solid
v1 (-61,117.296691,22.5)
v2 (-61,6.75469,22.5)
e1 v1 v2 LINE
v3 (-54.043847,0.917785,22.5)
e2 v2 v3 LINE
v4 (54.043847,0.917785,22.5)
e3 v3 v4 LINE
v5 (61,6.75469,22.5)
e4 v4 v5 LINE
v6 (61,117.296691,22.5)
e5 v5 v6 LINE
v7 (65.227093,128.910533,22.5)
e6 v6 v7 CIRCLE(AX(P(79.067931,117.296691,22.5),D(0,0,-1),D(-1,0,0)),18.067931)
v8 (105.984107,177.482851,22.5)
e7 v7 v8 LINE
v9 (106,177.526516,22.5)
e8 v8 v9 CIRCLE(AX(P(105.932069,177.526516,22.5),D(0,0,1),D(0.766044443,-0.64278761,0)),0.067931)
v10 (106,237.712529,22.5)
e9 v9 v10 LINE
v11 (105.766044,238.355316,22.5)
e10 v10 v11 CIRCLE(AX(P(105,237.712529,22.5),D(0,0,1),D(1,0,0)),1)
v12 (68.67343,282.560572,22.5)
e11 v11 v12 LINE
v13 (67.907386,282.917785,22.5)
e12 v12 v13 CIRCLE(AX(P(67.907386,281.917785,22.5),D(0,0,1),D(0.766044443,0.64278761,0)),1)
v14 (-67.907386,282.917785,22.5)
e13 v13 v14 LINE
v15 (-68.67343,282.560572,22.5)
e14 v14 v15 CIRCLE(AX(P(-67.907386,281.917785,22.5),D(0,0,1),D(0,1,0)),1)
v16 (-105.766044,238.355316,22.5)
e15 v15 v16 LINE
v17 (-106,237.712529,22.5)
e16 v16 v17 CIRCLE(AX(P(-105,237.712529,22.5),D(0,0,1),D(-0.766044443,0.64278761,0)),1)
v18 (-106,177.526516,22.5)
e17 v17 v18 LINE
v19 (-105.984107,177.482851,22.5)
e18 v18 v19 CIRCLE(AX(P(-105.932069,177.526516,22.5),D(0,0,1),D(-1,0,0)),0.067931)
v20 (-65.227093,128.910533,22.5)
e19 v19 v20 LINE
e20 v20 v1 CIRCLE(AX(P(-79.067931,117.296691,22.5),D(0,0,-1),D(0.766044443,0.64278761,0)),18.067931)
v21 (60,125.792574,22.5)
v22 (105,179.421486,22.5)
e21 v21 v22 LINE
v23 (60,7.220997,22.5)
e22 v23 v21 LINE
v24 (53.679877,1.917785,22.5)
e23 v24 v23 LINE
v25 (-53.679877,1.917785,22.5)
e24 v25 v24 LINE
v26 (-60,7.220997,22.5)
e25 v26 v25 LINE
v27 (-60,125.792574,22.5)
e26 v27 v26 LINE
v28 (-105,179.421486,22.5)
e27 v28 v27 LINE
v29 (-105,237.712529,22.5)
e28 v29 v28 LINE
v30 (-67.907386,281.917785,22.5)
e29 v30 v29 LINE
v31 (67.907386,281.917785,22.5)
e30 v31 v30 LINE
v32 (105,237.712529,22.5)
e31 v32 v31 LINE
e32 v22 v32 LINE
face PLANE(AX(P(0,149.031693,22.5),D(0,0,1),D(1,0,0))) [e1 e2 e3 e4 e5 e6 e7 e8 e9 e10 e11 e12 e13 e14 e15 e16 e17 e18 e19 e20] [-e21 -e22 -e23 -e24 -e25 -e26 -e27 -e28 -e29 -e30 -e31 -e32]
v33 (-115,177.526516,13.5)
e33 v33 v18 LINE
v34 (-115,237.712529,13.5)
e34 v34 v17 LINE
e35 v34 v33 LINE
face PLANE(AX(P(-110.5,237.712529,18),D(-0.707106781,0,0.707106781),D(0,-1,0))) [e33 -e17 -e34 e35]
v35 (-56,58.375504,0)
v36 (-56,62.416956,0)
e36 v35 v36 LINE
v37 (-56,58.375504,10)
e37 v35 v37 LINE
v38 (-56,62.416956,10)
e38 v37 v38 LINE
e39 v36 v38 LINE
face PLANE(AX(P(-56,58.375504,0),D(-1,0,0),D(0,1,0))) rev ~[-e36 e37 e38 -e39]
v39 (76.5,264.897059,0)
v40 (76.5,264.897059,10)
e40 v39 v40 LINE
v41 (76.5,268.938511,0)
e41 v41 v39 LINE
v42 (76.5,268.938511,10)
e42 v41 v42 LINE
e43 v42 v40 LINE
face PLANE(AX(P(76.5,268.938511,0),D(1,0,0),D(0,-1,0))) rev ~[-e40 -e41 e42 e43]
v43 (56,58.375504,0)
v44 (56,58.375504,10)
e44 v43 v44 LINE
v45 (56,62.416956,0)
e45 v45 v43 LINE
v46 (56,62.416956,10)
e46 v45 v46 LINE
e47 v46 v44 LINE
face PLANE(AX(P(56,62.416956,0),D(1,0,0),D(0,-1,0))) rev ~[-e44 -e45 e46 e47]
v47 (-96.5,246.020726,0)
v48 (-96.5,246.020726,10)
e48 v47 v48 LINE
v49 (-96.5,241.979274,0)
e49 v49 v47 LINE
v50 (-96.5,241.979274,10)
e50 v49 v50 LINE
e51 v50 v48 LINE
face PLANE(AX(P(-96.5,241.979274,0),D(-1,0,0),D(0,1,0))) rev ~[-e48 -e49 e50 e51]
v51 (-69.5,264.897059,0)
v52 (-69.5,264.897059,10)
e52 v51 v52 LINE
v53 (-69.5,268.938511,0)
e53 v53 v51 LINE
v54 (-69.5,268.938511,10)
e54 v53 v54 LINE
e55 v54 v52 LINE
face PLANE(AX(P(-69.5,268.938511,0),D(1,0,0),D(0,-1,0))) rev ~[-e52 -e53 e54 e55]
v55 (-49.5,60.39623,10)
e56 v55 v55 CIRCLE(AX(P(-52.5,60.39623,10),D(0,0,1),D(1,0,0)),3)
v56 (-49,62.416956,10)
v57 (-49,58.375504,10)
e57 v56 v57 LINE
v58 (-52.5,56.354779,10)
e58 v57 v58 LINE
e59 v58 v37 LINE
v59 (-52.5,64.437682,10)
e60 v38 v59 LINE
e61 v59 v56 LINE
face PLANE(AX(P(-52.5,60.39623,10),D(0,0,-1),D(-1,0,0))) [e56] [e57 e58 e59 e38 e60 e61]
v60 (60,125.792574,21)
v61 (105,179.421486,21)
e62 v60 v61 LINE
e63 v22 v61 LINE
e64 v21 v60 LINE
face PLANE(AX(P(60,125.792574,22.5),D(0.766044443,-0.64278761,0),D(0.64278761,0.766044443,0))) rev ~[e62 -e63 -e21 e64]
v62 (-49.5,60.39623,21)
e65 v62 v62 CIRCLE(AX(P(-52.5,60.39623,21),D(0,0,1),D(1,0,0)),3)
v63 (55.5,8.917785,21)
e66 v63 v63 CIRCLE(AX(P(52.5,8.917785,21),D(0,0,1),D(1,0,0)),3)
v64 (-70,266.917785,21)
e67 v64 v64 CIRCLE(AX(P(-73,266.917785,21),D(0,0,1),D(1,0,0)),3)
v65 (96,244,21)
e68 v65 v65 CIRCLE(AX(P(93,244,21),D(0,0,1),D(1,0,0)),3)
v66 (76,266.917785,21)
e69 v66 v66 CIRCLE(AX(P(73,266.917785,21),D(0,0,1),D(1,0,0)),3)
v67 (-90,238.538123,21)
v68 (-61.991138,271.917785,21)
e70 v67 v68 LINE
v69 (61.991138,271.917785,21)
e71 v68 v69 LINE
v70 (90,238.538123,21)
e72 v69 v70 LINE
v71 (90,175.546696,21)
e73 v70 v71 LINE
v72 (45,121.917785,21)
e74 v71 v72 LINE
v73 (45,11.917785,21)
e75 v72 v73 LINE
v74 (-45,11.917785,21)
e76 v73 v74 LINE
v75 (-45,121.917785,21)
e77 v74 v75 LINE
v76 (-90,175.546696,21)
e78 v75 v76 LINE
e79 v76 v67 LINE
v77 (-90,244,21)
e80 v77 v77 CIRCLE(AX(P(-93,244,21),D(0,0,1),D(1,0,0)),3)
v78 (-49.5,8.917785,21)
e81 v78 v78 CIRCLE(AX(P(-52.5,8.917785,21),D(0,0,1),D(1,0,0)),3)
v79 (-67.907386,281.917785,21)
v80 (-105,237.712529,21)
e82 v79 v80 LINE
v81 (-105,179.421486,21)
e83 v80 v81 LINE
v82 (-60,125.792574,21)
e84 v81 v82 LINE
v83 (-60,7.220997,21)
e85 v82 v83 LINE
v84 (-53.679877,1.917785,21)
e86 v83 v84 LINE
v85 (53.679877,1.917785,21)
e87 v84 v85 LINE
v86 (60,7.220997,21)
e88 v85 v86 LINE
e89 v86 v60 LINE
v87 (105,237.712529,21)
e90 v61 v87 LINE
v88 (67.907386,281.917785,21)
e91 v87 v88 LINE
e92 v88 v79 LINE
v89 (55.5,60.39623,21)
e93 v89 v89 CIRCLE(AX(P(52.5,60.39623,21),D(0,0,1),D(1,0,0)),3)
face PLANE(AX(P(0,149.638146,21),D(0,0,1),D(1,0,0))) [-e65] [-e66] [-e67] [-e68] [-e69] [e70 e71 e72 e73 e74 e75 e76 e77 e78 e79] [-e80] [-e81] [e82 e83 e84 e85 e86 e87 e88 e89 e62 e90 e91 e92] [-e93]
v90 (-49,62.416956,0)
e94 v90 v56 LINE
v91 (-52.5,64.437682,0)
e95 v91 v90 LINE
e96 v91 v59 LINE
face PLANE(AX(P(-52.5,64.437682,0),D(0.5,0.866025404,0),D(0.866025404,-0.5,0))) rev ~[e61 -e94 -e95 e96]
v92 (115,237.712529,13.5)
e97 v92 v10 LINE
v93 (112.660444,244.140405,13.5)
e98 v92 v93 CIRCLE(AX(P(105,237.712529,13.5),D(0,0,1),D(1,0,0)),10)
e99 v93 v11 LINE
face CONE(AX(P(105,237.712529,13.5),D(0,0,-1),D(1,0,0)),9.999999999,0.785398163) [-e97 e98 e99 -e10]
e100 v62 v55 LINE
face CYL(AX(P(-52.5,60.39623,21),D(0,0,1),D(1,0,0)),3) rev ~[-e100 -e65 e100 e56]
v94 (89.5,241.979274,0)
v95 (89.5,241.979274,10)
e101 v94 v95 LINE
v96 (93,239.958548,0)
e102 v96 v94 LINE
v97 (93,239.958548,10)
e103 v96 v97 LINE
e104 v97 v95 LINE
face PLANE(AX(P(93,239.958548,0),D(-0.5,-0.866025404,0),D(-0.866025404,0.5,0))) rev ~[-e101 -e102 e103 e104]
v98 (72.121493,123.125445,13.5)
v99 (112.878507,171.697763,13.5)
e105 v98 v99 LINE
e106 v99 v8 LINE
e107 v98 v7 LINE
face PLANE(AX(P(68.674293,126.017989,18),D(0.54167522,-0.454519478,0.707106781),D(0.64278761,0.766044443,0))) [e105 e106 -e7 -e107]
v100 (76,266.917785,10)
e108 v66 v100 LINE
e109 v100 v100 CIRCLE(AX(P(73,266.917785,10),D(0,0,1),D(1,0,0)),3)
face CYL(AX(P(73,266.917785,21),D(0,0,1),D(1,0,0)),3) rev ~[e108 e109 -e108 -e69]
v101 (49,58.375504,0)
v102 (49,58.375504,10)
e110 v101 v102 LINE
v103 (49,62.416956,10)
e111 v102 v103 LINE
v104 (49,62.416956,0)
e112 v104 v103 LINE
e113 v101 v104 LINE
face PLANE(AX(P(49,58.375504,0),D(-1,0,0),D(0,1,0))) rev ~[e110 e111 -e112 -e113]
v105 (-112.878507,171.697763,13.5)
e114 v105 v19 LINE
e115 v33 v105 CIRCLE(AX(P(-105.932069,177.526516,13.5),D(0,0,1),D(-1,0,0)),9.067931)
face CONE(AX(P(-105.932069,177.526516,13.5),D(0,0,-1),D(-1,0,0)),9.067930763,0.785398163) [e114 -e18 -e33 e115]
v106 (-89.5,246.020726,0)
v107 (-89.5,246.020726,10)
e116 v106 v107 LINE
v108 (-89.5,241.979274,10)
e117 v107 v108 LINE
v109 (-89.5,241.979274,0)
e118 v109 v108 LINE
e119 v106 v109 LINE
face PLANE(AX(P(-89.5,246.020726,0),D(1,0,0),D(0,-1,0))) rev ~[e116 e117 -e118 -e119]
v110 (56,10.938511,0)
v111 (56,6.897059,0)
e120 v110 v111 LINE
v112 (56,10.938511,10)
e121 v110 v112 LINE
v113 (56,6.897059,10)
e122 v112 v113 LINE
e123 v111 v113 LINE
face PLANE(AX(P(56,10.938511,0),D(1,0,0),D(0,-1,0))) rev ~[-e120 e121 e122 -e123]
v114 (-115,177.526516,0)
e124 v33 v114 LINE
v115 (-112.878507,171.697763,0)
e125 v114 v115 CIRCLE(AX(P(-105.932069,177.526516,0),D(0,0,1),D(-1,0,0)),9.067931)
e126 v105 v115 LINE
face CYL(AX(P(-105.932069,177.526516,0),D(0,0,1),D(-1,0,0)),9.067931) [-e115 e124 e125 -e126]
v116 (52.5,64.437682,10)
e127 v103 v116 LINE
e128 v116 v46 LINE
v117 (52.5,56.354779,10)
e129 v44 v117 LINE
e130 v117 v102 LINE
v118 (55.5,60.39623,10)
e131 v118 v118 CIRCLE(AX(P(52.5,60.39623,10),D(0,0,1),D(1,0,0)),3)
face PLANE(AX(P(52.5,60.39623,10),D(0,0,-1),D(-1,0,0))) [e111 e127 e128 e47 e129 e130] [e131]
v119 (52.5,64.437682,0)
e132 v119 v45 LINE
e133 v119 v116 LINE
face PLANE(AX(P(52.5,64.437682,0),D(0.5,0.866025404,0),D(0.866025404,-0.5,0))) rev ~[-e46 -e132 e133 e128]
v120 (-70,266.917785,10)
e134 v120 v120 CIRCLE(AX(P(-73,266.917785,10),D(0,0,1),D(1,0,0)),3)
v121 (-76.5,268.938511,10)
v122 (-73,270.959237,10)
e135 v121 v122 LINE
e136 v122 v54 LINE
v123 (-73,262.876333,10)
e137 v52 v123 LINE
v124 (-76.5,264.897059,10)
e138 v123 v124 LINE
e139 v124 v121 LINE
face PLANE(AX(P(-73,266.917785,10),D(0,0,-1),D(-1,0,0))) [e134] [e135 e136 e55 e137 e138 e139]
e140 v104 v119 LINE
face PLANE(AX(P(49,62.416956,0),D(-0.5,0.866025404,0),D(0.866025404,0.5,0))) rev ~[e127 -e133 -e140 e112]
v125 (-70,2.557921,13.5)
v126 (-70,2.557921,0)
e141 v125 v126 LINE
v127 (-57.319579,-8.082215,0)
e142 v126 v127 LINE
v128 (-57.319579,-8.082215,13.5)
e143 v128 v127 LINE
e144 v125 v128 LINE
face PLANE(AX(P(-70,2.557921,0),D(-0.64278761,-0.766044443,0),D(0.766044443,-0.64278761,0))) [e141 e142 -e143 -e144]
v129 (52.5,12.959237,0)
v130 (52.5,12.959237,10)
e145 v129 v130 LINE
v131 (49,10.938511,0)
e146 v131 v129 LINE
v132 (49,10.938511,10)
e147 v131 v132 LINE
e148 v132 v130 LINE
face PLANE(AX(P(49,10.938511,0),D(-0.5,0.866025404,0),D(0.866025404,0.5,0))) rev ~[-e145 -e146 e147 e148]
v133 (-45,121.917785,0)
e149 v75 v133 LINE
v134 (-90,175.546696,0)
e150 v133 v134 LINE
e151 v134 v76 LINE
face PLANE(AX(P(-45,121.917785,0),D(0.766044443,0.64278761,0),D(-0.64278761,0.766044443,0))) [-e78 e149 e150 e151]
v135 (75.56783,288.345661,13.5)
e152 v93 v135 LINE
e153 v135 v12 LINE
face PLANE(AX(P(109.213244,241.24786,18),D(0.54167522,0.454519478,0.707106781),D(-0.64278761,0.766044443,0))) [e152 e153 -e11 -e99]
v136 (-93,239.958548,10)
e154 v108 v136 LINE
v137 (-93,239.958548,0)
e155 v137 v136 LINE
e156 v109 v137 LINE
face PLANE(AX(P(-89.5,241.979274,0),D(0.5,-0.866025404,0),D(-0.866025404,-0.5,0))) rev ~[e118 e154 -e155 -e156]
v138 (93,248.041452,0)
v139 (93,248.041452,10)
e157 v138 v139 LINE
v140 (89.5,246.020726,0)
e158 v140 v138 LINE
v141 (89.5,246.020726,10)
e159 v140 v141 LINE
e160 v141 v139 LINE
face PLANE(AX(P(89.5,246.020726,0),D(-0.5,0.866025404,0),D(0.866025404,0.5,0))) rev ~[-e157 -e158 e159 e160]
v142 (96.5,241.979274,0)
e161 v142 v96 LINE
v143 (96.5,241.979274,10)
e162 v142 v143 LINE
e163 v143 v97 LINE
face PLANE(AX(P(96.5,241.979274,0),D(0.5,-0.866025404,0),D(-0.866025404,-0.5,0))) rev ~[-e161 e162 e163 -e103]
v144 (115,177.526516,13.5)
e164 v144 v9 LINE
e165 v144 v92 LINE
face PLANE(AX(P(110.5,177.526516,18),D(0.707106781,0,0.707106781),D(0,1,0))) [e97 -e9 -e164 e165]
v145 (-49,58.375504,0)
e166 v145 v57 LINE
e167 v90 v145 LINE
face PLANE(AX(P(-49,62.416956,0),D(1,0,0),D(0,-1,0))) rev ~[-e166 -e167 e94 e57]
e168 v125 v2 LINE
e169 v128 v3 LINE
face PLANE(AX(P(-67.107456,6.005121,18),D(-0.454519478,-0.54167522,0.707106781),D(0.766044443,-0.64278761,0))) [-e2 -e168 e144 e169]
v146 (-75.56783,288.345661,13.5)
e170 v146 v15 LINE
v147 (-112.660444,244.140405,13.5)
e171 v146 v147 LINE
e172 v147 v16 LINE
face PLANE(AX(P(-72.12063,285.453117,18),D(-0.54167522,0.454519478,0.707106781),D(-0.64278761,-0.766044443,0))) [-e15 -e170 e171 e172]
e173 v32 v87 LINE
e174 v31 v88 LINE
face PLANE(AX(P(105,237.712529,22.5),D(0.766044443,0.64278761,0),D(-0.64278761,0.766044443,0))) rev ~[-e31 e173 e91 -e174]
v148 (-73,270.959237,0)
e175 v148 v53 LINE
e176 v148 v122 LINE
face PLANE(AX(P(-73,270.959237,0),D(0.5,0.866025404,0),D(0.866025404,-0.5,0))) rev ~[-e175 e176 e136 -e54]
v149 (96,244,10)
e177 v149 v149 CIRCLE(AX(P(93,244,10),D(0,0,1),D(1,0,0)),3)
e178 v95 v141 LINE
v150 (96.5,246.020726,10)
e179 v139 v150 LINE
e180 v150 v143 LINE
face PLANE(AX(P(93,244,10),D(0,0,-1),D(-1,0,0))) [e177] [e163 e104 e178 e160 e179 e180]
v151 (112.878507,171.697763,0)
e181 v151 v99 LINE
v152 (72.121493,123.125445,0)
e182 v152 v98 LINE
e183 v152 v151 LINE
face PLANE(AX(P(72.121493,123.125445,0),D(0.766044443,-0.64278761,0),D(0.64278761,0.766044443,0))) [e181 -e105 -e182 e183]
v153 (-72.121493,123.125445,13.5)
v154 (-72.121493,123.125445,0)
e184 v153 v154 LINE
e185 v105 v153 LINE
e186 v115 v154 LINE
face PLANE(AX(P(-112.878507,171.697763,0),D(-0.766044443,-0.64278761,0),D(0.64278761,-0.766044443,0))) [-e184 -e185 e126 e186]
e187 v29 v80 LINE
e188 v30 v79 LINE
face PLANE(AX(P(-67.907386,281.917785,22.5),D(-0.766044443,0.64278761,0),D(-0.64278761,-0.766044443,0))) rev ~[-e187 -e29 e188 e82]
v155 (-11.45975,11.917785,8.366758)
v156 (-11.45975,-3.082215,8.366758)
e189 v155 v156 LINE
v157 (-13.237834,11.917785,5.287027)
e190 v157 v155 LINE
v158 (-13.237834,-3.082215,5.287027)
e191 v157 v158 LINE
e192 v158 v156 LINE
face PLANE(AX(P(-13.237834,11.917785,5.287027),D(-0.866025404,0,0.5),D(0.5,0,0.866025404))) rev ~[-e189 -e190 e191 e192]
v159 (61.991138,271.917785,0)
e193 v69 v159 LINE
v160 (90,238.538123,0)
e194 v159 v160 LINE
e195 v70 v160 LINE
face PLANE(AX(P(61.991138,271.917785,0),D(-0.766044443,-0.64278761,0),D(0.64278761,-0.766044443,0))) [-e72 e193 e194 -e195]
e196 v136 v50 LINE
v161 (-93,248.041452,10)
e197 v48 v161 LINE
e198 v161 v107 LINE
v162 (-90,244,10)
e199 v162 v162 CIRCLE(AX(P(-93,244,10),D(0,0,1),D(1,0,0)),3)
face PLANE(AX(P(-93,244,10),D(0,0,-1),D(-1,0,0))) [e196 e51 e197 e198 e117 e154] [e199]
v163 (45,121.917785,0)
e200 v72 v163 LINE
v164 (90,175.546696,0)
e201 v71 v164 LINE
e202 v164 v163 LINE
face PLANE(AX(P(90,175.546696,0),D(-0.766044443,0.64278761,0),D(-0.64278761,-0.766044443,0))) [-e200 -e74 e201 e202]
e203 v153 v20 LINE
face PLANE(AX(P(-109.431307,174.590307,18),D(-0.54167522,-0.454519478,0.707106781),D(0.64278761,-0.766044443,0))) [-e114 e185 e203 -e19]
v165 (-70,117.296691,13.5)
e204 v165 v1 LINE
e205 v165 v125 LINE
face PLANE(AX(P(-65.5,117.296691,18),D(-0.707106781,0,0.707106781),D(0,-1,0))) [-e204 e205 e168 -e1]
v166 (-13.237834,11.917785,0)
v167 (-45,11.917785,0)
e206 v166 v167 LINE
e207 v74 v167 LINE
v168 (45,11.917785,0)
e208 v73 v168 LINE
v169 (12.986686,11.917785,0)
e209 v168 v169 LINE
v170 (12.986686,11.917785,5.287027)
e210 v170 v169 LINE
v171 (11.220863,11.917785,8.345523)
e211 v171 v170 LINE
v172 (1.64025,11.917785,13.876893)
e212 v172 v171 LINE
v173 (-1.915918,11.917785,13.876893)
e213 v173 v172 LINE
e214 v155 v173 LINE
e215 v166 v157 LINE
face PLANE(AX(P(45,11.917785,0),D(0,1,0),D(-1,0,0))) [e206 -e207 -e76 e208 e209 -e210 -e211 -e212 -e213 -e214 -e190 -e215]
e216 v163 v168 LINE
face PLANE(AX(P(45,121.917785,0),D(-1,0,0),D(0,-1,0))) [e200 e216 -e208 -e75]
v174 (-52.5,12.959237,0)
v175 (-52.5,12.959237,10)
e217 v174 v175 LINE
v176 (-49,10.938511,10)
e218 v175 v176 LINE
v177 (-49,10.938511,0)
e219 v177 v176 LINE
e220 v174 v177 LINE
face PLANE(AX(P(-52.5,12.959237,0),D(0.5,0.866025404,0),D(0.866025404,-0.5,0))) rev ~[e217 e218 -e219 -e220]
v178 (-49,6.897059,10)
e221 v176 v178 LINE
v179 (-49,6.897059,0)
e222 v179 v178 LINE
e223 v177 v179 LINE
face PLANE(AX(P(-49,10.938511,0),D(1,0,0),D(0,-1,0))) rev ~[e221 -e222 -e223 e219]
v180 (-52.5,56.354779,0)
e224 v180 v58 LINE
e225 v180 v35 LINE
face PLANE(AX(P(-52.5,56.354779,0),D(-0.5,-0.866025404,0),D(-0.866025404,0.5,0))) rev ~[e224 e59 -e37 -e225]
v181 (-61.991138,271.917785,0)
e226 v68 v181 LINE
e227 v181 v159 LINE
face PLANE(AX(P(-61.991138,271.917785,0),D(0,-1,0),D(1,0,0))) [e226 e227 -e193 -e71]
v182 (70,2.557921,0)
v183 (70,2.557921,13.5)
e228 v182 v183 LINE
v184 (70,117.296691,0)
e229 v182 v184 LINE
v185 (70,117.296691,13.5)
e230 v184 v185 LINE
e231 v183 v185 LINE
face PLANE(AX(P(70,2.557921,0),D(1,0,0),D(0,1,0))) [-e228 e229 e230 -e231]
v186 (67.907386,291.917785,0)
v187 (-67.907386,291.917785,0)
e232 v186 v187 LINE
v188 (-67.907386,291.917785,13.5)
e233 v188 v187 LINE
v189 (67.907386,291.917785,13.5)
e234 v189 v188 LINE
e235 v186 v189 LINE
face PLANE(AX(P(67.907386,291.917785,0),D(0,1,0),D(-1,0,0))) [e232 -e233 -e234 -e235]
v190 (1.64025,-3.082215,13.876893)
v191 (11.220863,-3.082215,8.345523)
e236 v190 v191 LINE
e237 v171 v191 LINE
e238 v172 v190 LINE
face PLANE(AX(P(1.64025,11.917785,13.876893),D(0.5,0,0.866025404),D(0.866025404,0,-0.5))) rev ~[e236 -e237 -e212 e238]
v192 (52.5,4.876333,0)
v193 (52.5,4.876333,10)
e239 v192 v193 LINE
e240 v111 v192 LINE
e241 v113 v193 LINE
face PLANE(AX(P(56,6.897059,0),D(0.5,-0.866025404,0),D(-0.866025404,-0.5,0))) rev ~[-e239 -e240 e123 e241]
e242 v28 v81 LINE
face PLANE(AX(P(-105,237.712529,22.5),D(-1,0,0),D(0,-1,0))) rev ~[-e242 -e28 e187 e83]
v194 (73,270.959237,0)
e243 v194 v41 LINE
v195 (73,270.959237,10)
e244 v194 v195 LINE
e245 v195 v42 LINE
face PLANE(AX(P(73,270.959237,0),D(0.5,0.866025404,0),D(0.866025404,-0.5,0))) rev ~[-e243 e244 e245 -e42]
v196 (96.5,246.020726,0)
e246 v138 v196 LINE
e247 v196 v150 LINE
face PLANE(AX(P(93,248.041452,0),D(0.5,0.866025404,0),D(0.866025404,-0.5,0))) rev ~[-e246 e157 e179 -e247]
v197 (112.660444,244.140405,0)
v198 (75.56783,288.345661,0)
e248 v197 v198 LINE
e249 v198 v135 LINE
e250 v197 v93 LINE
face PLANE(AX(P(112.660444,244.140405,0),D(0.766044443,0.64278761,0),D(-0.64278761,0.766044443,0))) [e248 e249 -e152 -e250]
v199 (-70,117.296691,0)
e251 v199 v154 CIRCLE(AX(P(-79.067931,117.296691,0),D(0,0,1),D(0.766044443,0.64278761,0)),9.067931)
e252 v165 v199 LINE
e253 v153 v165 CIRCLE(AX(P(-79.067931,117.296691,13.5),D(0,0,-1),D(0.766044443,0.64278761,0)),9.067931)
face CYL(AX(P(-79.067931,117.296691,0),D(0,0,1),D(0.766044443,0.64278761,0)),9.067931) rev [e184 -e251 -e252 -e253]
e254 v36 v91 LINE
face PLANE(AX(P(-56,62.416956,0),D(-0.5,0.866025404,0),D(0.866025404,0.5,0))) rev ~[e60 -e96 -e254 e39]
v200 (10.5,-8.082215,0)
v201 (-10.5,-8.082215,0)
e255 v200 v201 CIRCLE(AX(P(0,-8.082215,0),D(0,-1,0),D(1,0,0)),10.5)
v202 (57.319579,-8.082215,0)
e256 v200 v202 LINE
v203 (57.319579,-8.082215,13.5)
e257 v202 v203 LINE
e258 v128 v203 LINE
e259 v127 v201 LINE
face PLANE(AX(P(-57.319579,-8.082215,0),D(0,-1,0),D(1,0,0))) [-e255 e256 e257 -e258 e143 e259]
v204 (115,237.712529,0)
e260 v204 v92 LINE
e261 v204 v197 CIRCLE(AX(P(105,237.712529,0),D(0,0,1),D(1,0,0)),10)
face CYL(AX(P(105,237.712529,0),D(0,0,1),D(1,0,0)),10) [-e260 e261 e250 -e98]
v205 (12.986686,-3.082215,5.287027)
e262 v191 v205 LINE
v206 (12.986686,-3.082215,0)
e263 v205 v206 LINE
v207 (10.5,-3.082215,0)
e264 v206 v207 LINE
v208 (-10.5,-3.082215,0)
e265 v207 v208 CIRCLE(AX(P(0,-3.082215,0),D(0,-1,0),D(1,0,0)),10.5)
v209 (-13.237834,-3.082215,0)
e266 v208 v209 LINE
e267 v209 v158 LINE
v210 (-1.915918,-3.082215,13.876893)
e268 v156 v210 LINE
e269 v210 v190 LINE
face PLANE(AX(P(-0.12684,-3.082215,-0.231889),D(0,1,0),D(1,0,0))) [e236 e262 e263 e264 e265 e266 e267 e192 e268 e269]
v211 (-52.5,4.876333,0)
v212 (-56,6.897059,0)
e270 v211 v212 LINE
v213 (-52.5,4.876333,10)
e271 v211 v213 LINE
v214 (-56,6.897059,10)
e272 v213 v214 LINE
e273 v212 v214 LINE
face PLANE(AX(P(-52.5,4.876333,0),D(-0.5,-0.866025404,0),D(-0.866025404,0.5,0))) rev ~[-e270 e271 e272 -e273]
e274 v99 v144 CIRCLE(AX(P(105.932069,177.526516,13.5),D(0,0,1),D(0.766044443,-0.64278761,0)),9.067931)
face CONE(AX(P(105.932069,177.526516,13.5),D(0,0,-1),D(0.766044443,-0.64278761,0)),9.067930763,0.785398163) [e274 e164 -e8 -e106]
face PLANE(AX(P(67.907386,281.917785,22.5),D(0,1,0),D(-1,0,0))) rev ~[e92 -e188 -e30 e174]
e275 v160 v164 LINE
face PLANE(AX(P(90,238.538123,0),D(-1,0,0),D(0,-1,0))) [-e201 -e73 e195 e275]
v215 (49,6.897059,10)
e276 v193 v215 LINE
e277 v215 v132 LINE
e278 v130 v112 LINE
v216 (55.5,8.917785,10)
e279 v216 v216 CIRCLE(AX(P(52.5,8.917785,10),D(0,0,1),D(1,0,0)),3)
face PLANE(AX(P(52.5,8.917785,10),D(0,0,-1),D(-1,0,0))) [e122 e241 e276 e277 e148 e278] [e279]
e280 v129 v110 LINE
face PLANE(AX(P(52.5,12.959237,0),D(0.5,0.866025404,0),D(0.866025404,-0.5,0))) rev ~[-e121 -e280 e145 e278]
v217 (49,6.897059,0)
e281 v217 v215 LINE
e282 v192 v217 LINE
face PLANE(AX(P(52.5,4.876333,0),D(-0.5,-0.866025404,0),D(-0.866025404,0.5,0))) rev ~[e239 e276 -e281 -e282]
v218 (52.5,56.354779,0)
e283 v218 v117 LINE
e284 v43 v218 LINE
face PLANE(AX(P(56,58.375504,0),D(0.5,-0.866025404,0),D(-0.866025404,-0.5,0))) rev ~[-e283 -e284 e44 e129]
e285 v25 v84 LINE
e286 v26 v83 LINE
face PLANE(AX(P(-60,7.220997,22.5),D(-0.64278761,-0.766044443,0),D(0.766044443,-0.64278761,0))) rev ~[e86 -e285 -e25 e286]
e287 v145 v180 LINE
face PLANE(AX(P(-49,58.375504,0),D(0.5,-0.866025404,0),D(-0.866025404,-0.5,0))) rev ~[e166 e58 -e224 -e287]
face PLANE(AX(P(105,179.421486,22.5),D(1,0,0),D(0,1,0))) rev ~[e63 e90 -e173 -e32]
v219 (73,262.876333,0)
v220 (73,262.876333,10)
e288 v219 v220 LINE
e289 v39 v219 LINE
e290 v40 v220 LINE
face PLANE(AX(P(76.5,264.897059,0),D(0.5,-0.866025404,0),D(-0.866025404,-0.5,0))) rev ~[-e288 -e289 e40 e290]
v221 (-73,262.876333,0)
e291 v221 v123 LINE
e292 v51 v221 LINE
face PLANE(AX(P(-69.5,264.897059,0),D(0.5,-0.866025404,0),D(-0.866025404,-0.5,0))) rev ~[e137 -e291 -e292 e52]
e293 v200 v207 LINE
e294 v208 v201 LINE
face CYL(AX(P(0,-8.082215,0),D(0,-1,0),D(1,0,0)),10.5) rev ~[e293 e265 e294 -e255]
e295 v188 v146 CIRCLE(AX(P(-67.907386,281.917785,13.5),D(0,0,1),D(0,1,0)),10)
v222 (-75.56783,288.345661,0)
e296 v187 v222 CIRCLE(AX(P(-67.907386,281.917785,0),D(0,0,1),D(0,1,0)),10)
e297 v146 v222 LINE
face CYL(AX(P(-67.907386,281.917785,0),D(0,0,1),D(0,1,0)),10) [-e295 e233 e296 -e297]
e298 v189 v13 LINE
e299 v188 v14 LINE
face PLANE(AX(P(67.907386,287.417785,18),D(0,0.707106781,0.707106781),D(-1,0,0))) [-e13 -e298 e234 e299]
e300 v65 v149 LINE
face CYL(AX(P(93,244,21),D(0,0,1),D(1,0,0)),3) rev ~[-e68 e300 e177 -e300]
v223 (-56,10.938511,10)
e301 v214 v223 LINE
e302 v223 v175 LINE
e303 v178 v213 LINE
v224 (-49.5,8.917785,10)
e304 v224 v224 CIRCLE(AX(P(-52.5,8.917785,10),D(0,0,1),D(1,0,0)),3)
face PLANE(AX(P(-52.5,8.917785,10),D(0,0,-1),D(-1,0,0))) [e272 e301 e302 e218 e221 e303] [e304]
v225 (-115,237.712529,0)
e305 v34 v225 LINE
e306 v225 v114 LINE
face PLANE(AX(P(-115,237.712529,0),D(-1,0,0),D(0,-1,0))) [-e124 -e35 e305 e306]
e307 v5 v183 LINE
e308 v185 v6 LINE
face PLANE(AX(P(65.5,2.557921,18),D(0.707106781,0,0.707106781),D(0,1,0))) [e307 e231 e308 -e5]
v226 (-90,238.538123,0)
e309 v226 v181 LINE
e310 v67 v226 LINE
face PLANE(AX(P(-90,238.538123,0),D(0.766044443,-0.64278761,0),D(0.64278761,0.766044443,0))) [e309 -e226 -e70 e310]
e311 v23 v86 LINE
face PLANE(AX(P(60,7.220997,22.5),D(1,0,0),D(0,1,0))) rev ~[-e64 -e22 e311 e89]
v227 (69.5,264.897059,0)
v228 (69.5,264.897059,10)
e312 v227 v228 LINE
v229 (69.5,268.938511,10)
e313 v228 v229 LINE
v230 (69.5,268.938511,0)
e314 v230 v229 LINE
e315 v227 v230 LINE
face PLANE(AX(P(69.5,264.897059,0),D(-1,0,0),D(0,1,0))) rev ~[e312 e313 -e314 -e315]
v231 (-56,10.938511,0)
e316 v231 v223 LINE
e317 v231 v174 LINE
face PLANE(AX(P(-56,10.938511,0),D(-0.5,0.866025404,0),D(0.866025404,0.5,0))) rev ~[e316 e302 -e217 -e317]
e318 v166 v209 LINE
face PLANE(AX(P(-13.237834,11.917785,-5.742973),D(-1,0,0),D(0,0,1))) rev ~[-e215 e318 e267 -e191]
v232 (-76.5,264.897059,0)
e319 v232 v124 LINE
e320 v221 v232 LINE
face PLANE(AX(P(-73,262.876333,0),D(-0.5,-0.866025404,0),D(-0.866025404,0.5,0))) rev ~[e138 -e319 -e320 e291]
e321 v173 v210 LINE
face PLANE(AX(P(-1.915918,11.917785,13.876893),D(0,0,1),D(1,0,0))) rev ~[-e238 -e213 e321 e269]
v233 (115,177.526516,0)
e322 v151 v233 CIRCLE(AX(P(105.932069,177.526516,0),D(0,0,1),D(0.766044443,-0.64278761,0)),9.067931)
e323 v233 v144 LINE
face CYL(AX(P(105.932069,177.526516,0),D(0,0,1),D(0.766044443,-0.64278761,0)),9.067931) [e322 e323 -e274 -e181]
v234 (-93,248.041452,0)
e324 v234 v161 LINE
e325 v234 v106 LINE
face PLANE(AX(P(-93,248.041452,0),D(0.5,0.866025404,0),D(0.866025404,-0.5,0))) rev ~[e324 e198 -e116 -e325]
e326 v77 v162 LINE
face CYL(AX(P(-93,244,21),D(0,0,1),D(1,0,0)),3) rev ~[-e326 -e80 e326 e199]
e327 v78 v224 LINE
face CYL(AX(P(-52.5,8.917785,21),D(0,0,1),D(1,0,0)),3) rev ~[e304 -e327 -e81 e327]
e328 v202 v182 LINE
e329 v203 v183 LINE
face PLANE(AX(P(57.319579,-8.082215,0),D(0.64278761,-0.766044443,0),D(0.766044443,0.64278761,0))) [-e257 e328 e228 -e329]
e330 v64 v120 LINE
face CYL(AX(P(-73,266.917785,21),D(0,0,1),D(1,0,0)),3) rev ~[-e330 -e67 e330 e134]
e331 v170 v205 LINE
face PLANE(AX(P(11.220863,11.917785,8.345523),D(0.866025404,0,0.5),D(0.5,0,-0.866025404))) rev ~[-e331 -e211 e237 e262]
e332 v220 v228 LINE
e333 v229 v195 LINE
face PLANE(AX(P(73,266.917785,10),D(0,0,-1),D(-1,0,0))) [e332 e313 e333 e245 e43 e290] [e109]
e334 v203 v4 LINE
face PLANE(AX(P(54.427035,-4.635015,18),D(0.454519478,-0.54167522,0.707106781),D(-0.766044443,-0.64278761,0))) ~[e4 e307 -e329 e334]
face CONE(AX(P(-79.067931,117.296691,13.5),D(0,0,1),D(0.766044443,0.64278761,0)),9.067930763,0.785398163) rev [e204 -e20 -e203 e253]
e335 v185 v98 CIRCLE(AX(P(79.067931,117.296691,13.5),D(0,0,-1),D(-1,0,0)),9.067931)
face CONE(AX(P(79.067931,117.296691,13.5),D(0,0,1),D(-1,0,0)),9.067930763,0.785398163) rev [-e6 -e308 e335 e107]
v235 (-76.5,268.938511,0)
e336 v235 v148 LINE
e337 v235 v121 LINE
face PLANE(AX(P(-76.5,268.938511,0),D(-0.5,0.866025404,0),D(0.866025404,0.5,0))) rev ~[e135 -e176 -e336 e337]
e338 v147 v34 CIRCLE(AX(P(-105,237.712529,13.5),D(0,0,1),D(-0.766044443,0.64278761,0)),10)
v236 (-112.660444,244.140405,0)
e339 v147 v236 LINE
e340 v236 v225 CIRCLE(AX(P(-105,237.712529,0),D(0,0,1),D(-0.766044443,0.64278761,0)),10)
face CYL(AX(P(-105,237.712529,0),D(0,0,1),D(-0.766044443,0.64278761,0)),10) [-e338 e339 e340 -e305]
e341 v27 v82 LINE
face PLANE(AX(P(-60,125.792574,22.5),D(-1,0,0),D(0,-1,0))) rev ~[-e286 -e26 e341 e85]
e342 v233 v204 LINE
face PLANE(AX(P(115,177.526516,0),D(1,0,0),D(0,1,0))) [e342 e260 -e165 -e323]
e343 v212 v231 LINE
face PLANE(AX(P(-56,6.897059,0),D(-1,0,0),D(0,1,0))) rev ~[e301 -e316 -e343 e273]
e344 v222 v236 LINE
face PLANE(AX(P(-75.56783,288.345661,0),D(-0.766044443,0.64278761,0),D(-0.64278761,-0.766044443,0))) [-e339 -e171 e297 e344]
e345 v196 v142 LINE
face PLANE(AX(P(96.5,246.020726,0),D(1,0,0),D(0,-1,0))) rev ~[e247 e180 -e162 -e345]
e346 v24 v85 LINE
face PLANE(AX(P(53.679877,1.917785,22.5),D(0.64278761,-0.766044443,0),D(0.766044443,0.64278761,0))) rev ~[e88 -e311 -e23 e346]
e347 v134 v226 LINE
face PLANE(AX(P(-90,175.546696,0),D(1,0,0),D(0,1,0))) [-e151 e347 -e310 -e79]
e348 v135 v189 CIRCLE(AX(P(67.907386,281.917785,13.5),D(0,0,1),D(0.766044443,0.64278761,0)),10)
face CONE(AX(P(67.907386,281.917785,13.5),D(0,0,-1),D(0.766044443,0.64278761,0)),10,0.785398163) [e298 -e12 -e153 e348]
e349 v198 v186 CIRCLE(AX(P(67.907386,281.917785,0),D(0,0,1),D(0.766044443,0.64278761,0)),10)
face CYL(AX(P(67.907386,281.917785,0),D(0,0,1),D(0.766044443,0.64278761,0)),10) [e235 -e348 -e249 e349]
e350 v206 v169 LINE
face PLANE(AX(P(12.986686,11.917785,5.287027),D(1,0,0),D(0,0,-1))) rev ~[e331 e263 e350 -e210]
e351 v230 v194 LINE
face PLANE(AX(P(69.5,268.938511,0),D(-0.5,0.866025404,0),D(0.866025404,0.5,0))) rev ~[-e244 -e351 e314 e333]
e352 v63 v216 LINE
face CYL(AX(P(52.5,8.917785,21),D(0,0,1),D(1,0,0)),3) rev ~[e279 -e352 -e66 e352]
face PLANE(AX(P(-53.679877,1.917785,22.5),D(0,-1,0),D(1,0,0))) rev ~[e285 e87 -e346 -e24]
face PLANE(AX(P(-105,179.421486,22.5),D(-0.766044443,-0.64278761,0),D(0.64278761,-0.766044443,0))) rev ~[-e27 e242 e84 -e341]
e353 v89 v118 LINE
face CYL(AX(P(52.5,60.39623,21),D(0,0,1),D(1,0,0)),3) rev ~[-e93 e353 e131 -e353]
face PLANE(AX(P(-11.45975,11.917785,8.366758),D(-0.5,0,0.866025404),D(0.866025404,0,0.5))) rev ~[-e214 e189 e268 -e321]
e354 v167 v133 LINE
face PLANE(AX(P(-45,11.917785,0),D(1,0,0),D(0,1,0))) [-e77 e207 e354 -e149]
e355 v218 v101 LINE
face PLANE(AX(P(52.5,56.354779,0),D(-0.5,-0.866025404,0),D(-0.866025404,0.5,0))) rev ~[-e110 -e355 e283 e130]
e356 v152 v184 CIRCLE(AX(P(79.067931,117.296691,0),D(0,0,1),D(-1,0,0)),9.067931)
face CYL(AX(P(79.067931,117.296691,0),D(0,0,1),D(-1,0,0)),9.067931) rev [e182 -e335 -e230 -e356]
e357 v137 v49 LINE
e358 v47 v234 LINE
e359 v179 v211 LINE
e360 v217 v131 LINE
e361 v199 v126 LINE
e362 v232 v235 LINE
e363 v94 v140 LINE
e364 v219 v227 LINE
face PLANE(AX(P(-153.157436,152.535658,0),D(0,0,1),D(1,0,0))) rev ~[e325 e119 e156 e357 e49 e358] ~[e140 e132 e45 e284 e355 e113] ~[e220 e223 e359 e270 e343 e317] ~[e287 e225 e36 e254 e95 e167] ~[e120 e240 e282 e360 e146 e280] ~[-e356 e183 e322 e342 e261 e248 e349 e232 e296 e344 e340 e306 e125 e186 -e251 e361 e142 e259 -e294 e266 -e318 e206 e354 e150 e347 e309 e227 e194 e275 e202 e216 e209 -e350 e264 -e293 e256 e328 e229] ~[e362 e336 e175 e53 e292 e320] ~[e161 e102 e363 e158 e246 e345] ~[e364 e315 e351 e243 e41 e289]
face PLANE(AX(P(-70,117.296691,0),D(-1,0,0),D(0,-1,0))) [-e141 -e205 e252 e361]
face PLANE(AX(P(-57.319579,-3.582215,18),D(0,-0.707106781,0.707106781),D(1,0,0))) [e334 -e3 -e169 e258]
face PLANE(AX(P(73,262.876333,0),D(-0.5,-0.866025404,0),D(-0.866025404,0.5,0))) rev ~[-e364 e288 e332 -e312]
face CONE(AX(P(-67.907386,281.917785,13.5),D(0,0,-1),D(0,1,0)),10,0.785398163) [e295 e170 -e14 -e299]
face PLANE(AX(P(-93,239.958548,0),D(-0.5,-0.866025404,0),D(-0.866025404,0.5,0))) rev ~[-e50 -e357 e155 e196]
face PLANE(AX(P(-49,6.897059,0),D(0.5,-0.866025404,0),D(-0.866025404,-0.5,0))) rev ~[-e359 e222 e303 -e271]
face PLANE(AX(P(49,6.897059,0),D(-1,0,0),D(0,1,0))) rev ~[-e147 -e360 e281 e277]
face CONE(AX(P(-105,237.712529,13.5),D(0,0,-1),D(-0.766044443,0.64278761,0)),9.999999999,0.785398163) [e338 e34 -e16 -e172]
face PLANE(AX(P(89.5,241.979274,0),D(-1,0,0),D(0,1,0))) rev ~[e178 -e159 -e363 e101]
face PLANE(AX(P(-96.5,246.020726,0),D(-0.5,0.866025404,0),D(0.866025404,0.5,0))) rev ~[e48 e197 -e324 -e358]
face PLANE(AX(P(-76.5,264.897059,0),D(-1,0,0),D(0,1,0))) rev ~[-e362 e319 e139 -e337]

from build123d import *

# Parameters (mm, degrees)
RESSALTO_EXTRUS_O1_DEPTH = 22.5
CHANFRO1_SIZE            = 9
CORTE_EXTRUS_O1_REACH    = 24.5
ESBO_O3_W                = 1139.230904301
ESBO_O3_H                = 709.798033895
CORTE_EXTRUS_O5_DEPTH    = 1.5
ESBO_O5_R                = 3
CORTE_EXTRUS_O6_DEPTH    = 22
CORTE_EXTRUS_O8_DEPTH    = 10
CORTE_EXTRUS_O12_DEPTH   = 15
ESBO_O13_R               = 10.5
CORTE_EXTRUS_O13_DEPTH   = 5


with BuildPart() as part:
    # Esboço1 → Ressalto-extrusão1 (new body, symmetric)
    with BuildSketch(Plane.XY):
        with BuildLine():
            Line((-57.319579452, -8.082215343), (57.319579452, -8.082215343))
            Line((57.319579452, -8.082215343), (70, 2.557920862))
            Line((70, 2.557920862), (70, 117.296691049))
            ThreePointArc((70, 117.296691049), (70.546863139, 120.39810603), (72.121492792, 123.125444592))
            Line((72.121492792, 123.125444592), (112.878507208, 171.697762944))
            ThreePointArc((112.878507208, 171.697762944), (114.453136861, 174.425101506), (115, 177.526516487))
            Line((115, 177.526516487), (115, 237.712528581))
            ThreePointArc((115, 237.712528581), (114.396926208, 241.132730014), (112.660444431, 244.140404678))
            Line((112.660444431, 244.140404678), (75.567830361, 288.345660754))
            ThreePointArc((75.567830361, 288.345660754), (72.133568548, 290.980862527), (67.90738593, 291.917784657))
            Line((67.90738593, 291.917784657), (-67.90738593, 291.917784657))
            ThreePointArc((-67.90738593, 291.917784657), (-72.133568548, 290.980862527), (-75.567830361, 288.345660754))
            Line((-75.567830361, 288.345660754), (-112.660444431, 244.140404678))
            ThreePointArc((-112.660444431, 244.140404678), (-114.396926208, 241.132730014), (-115, 237.712528581))
            Line((-115, 237.712528581), (-115, 177.526516487))
            ThreePointArc((-115, 177.526516487), (-114.453136861, 174.425101506), (-112.878507208, 171.697762944))
            Line((-112.878507208, 171.697762944), (-72.121492792, 123.125444592))
            ThreePointArc((-72.121492792, 123.125444592), (-70.546863139, 120.39810603), (-70, 117.296691049))
            Line((-70, 117.296691049), (-70, 2.557920862))
            Line((-70, 2.557920862), (-57.319579452, -8.082215343))
        make_face()
        Polygon((-90, 175.546696324), (-90, 238.538123078), (-61.99113828, 271.917784657), (61.99113828, 271.917784657), (90, 238.538123078), (90, 175.546696324), (45, 121.917784657), (45, 11.917784657), (-45, 11.917784657), (-45, 121.917784657), align=None, mode=Mode.SUBTRACT)
    extrude(amount=RESSALTO_EXTRUS_O1_DEPTH, both=True)

    # Chanfro1
    chanfro1_edges = [part.edges().sort_by_distance(p)[0] for p in [
        (0, -8.082215343, 22.5),
        (63.659789726, -2.76214724, 22.5),
        (70, 59.927305955, 22.5),
        (70.546863139, 120.39810603, 22.5),
        (92.5, 147.411603768, 22.5),
        (114.453136861, 174.425101506, 22.5),
        (115, 207.619522534, 22.5),
        (114.396926208, 241.132730014, 22.5),
        (94.114137396, 266.243032716, 22.5),
        (72.133568548, 290.980862527, 22.5),
        (0, 291.917784657, 22.5),
        (-72.133568548, 290.980862527, 22.5),
        (-94.114137396, 266.243032716, 22.5),
        (-114.396926208, 241.132730014, 22.5),
        (-115, 207.619522534, 22.5),
        (-114.453136861, 174.425101506, 22.5),
        (-92.5, 147.411603768, 22.5),
        (-70.546863139, 120.39810603, 22.5),
        (-70, 59.927305955, 22.5),
        (-63.659789726, -2.76214724, 22.5),
    ]]
    chamfer(chanfro1_edges, length=CHANFRO1_SIZE)

    # Esboço3 → Corte-extrusão1 (cut, up to next)
    with BuildSketch(Plane.XY, mode=Mode.PRIVATE) as corte_extrus_o1_sk1:
        with Locations((-153.157436203, 152.53565808)):
            Rectangle(ESBO_O3_W, ESBO_O3_H)
    corte_extrus_o1_tool1 = extrude(corte_extrus_o1_sk1.sketch, amount=-CORTE_EXTRUS_O1_REACH, mode=Mode.PRIVATE) & part.part
    add(corte_extrus_o1_tool1.solids().sort_by_distance((-153.157436, 152.535658, 0))[0], mode=Mode.SUBTRACT)

    # Esboço4 → Corte-extrusão5 (cut)
    with BuildSketch(Plane.XY.offset(22.5)):
        Polygon((-60, 7.220997444), (-53.679877109, 1.917784657), (53.679877109, 1.917784657), (60, 7.220997444), (60, 125.792574104), (105, 179.421485771), (105, 237.712528581), (67.90738593, 281.917784657), (-67.90738593, 281.917784657), (-105, 237.712528581), (-105, 179.421485771), (-60, 125.792574104), align=None)
        Polygon((-90, 175.546696324), (-90, 238.538123078), (-61.99113828, 271.917784657), (61.99113828, 271.917784657), (90, 238.538123078), (90, 175.546696324), (45, 121.917784657), (45, 11.917784657), (-45, 11.917784657), (-45, 121.917784657), align=None, mode=Mode.SUBTRACT)
    extrude(amount=-CORTE_EXTRUS_O5_DEPTH, mode=Mode.SUBTRACT)

    # Esboço5 → Corte-extrusão6 (cut, through all)
    with BuildSketch(Plane.XY.offset(21)):
        with Locations((-93, 244)):
            Circle(ESBO_O5_R)
        with Locations((-52.5, 60.396230411)):
            Circle(ESBO_O5_R)
        with Locations((-73, 266.917784657)):
            Circle(ESBO_O5_R)
        with Locations((-52.5, 8.917784657)):
            Circle(ESBO_O5_R)
        with Locations((52.5, 8.917784657)):
            Circle(ESBO_O5_R)
        with Locations((73, 266.917784657)):
            Circle(ESBO_O5_R)
        with Locations((52.5, 60.396230411)):
            Circle(ESBO_O5_R)
        with Locations((93, 244)):
            Circle(ESBO_O5_R)
    extrude(amount=-CORTE_EXTRUS_O6_DEPTH, mode=Mode.SUBTRACT)

    # Esboço7 → Corte-extrusão8 (cut)
    with BuildSketch(Plane(origin=(0, 0, 0), x_dir=(-1, 0, 0), z_dir=(0, 0, -1))):
        Polygon((-73, 270.959236541), (-76.5, 268.938510599), (-76.5, 264.897058715), (-73, 262.876332773), (-69.5, 264.897058715), (-69.5, 268.938510599), align=None)
        Polygon((73, 270.959236541), (69.5, 268.938510599), (69.5, 264.897058715), (73, 262.876332773), (76.5, 264.897058715), (76.5, 268.938510599), align=None)
        Polygon((-93, 248.041451884), (-96.5, 246.020725942), (-96.5, 241.979274058), (-93, 239.958548116), (-89.5, 241.979274058), (-89.5, 246.020725942), align=None)
        Polygon((-52.5, 64.437682295), (-56, 62.416956353), (-56, 58.375504468), (-52.5, 56.354778526), (-49, 58.375504468), (-49, 62.416956353), align=None)
        Polygon((-52.5, 12.959236541), (-56, 10.938510599), (-56, 6.897058715), (-52.5, 4.876332773), (-49, 6.897058715), (-49, 10.938510599), align=None)
        Polygon((52.5, 12.959236541), (49, 10.938510599), (49, 6.897058715), (52.5, 4.876332773), (56, 6.897058715), (56, 10.938510599), align=None)
        Polygon((52.5, 64.437682295), (49, 62.416956353), (49, 58.375504468), (52.5, 56.354778526), (56, 58.375504468), (56, 62.416956353), align=None)
        Polygon((93, 248.041451884), (89.5, 246.020725942), (89.5, 241.979274058), (93, 239.958548116), (96.5, 241.979274058), (96.5, 246.020725942), align=None)
    extrude(amount=-CORTE_EXTRUS_O8_DEPTH, mode=Mode.SUBTRACT)

    # Esboço12 → Corte-extrusão12 (cut)
    with BuildSketch(Plane(origin=(0, 11.917784657, 0), x_dir=(1, 0, 0), z_dir=(0, 1, 0))):
        Polygon((-1.905573841, 14.34102327), (-11.457834044, 8.82602327), (-13.237834044, 5.742972833), (-13.237834044, -5.287027167), (-11.459750431, -8.366758325), (-1.915917658, -13.876892746), (1.640249569, -13.876892746), (11.220862954, -8.34552303), (12.986686363, -5.287027167), (12.986686363, 5.742972833), (11.206686363, 8.82602327), (1.654426159, 14.34102327), align=None)
    extrude(amount=-CORTE_EXTRUS_O12_DEPTH, mode=Mode.SUBTRACT)

    # Esboço13 → Corte-extrusão13 (cut)
    with BuildSketch(Plane.XZ.offset(8.082215343)):
        Circle(ESBO_O13_R)
    extrude(amount=-CORTE_EXTRUS_O13_DEPTH, mode=Mode.SUBTRACT)


solid = part.part
